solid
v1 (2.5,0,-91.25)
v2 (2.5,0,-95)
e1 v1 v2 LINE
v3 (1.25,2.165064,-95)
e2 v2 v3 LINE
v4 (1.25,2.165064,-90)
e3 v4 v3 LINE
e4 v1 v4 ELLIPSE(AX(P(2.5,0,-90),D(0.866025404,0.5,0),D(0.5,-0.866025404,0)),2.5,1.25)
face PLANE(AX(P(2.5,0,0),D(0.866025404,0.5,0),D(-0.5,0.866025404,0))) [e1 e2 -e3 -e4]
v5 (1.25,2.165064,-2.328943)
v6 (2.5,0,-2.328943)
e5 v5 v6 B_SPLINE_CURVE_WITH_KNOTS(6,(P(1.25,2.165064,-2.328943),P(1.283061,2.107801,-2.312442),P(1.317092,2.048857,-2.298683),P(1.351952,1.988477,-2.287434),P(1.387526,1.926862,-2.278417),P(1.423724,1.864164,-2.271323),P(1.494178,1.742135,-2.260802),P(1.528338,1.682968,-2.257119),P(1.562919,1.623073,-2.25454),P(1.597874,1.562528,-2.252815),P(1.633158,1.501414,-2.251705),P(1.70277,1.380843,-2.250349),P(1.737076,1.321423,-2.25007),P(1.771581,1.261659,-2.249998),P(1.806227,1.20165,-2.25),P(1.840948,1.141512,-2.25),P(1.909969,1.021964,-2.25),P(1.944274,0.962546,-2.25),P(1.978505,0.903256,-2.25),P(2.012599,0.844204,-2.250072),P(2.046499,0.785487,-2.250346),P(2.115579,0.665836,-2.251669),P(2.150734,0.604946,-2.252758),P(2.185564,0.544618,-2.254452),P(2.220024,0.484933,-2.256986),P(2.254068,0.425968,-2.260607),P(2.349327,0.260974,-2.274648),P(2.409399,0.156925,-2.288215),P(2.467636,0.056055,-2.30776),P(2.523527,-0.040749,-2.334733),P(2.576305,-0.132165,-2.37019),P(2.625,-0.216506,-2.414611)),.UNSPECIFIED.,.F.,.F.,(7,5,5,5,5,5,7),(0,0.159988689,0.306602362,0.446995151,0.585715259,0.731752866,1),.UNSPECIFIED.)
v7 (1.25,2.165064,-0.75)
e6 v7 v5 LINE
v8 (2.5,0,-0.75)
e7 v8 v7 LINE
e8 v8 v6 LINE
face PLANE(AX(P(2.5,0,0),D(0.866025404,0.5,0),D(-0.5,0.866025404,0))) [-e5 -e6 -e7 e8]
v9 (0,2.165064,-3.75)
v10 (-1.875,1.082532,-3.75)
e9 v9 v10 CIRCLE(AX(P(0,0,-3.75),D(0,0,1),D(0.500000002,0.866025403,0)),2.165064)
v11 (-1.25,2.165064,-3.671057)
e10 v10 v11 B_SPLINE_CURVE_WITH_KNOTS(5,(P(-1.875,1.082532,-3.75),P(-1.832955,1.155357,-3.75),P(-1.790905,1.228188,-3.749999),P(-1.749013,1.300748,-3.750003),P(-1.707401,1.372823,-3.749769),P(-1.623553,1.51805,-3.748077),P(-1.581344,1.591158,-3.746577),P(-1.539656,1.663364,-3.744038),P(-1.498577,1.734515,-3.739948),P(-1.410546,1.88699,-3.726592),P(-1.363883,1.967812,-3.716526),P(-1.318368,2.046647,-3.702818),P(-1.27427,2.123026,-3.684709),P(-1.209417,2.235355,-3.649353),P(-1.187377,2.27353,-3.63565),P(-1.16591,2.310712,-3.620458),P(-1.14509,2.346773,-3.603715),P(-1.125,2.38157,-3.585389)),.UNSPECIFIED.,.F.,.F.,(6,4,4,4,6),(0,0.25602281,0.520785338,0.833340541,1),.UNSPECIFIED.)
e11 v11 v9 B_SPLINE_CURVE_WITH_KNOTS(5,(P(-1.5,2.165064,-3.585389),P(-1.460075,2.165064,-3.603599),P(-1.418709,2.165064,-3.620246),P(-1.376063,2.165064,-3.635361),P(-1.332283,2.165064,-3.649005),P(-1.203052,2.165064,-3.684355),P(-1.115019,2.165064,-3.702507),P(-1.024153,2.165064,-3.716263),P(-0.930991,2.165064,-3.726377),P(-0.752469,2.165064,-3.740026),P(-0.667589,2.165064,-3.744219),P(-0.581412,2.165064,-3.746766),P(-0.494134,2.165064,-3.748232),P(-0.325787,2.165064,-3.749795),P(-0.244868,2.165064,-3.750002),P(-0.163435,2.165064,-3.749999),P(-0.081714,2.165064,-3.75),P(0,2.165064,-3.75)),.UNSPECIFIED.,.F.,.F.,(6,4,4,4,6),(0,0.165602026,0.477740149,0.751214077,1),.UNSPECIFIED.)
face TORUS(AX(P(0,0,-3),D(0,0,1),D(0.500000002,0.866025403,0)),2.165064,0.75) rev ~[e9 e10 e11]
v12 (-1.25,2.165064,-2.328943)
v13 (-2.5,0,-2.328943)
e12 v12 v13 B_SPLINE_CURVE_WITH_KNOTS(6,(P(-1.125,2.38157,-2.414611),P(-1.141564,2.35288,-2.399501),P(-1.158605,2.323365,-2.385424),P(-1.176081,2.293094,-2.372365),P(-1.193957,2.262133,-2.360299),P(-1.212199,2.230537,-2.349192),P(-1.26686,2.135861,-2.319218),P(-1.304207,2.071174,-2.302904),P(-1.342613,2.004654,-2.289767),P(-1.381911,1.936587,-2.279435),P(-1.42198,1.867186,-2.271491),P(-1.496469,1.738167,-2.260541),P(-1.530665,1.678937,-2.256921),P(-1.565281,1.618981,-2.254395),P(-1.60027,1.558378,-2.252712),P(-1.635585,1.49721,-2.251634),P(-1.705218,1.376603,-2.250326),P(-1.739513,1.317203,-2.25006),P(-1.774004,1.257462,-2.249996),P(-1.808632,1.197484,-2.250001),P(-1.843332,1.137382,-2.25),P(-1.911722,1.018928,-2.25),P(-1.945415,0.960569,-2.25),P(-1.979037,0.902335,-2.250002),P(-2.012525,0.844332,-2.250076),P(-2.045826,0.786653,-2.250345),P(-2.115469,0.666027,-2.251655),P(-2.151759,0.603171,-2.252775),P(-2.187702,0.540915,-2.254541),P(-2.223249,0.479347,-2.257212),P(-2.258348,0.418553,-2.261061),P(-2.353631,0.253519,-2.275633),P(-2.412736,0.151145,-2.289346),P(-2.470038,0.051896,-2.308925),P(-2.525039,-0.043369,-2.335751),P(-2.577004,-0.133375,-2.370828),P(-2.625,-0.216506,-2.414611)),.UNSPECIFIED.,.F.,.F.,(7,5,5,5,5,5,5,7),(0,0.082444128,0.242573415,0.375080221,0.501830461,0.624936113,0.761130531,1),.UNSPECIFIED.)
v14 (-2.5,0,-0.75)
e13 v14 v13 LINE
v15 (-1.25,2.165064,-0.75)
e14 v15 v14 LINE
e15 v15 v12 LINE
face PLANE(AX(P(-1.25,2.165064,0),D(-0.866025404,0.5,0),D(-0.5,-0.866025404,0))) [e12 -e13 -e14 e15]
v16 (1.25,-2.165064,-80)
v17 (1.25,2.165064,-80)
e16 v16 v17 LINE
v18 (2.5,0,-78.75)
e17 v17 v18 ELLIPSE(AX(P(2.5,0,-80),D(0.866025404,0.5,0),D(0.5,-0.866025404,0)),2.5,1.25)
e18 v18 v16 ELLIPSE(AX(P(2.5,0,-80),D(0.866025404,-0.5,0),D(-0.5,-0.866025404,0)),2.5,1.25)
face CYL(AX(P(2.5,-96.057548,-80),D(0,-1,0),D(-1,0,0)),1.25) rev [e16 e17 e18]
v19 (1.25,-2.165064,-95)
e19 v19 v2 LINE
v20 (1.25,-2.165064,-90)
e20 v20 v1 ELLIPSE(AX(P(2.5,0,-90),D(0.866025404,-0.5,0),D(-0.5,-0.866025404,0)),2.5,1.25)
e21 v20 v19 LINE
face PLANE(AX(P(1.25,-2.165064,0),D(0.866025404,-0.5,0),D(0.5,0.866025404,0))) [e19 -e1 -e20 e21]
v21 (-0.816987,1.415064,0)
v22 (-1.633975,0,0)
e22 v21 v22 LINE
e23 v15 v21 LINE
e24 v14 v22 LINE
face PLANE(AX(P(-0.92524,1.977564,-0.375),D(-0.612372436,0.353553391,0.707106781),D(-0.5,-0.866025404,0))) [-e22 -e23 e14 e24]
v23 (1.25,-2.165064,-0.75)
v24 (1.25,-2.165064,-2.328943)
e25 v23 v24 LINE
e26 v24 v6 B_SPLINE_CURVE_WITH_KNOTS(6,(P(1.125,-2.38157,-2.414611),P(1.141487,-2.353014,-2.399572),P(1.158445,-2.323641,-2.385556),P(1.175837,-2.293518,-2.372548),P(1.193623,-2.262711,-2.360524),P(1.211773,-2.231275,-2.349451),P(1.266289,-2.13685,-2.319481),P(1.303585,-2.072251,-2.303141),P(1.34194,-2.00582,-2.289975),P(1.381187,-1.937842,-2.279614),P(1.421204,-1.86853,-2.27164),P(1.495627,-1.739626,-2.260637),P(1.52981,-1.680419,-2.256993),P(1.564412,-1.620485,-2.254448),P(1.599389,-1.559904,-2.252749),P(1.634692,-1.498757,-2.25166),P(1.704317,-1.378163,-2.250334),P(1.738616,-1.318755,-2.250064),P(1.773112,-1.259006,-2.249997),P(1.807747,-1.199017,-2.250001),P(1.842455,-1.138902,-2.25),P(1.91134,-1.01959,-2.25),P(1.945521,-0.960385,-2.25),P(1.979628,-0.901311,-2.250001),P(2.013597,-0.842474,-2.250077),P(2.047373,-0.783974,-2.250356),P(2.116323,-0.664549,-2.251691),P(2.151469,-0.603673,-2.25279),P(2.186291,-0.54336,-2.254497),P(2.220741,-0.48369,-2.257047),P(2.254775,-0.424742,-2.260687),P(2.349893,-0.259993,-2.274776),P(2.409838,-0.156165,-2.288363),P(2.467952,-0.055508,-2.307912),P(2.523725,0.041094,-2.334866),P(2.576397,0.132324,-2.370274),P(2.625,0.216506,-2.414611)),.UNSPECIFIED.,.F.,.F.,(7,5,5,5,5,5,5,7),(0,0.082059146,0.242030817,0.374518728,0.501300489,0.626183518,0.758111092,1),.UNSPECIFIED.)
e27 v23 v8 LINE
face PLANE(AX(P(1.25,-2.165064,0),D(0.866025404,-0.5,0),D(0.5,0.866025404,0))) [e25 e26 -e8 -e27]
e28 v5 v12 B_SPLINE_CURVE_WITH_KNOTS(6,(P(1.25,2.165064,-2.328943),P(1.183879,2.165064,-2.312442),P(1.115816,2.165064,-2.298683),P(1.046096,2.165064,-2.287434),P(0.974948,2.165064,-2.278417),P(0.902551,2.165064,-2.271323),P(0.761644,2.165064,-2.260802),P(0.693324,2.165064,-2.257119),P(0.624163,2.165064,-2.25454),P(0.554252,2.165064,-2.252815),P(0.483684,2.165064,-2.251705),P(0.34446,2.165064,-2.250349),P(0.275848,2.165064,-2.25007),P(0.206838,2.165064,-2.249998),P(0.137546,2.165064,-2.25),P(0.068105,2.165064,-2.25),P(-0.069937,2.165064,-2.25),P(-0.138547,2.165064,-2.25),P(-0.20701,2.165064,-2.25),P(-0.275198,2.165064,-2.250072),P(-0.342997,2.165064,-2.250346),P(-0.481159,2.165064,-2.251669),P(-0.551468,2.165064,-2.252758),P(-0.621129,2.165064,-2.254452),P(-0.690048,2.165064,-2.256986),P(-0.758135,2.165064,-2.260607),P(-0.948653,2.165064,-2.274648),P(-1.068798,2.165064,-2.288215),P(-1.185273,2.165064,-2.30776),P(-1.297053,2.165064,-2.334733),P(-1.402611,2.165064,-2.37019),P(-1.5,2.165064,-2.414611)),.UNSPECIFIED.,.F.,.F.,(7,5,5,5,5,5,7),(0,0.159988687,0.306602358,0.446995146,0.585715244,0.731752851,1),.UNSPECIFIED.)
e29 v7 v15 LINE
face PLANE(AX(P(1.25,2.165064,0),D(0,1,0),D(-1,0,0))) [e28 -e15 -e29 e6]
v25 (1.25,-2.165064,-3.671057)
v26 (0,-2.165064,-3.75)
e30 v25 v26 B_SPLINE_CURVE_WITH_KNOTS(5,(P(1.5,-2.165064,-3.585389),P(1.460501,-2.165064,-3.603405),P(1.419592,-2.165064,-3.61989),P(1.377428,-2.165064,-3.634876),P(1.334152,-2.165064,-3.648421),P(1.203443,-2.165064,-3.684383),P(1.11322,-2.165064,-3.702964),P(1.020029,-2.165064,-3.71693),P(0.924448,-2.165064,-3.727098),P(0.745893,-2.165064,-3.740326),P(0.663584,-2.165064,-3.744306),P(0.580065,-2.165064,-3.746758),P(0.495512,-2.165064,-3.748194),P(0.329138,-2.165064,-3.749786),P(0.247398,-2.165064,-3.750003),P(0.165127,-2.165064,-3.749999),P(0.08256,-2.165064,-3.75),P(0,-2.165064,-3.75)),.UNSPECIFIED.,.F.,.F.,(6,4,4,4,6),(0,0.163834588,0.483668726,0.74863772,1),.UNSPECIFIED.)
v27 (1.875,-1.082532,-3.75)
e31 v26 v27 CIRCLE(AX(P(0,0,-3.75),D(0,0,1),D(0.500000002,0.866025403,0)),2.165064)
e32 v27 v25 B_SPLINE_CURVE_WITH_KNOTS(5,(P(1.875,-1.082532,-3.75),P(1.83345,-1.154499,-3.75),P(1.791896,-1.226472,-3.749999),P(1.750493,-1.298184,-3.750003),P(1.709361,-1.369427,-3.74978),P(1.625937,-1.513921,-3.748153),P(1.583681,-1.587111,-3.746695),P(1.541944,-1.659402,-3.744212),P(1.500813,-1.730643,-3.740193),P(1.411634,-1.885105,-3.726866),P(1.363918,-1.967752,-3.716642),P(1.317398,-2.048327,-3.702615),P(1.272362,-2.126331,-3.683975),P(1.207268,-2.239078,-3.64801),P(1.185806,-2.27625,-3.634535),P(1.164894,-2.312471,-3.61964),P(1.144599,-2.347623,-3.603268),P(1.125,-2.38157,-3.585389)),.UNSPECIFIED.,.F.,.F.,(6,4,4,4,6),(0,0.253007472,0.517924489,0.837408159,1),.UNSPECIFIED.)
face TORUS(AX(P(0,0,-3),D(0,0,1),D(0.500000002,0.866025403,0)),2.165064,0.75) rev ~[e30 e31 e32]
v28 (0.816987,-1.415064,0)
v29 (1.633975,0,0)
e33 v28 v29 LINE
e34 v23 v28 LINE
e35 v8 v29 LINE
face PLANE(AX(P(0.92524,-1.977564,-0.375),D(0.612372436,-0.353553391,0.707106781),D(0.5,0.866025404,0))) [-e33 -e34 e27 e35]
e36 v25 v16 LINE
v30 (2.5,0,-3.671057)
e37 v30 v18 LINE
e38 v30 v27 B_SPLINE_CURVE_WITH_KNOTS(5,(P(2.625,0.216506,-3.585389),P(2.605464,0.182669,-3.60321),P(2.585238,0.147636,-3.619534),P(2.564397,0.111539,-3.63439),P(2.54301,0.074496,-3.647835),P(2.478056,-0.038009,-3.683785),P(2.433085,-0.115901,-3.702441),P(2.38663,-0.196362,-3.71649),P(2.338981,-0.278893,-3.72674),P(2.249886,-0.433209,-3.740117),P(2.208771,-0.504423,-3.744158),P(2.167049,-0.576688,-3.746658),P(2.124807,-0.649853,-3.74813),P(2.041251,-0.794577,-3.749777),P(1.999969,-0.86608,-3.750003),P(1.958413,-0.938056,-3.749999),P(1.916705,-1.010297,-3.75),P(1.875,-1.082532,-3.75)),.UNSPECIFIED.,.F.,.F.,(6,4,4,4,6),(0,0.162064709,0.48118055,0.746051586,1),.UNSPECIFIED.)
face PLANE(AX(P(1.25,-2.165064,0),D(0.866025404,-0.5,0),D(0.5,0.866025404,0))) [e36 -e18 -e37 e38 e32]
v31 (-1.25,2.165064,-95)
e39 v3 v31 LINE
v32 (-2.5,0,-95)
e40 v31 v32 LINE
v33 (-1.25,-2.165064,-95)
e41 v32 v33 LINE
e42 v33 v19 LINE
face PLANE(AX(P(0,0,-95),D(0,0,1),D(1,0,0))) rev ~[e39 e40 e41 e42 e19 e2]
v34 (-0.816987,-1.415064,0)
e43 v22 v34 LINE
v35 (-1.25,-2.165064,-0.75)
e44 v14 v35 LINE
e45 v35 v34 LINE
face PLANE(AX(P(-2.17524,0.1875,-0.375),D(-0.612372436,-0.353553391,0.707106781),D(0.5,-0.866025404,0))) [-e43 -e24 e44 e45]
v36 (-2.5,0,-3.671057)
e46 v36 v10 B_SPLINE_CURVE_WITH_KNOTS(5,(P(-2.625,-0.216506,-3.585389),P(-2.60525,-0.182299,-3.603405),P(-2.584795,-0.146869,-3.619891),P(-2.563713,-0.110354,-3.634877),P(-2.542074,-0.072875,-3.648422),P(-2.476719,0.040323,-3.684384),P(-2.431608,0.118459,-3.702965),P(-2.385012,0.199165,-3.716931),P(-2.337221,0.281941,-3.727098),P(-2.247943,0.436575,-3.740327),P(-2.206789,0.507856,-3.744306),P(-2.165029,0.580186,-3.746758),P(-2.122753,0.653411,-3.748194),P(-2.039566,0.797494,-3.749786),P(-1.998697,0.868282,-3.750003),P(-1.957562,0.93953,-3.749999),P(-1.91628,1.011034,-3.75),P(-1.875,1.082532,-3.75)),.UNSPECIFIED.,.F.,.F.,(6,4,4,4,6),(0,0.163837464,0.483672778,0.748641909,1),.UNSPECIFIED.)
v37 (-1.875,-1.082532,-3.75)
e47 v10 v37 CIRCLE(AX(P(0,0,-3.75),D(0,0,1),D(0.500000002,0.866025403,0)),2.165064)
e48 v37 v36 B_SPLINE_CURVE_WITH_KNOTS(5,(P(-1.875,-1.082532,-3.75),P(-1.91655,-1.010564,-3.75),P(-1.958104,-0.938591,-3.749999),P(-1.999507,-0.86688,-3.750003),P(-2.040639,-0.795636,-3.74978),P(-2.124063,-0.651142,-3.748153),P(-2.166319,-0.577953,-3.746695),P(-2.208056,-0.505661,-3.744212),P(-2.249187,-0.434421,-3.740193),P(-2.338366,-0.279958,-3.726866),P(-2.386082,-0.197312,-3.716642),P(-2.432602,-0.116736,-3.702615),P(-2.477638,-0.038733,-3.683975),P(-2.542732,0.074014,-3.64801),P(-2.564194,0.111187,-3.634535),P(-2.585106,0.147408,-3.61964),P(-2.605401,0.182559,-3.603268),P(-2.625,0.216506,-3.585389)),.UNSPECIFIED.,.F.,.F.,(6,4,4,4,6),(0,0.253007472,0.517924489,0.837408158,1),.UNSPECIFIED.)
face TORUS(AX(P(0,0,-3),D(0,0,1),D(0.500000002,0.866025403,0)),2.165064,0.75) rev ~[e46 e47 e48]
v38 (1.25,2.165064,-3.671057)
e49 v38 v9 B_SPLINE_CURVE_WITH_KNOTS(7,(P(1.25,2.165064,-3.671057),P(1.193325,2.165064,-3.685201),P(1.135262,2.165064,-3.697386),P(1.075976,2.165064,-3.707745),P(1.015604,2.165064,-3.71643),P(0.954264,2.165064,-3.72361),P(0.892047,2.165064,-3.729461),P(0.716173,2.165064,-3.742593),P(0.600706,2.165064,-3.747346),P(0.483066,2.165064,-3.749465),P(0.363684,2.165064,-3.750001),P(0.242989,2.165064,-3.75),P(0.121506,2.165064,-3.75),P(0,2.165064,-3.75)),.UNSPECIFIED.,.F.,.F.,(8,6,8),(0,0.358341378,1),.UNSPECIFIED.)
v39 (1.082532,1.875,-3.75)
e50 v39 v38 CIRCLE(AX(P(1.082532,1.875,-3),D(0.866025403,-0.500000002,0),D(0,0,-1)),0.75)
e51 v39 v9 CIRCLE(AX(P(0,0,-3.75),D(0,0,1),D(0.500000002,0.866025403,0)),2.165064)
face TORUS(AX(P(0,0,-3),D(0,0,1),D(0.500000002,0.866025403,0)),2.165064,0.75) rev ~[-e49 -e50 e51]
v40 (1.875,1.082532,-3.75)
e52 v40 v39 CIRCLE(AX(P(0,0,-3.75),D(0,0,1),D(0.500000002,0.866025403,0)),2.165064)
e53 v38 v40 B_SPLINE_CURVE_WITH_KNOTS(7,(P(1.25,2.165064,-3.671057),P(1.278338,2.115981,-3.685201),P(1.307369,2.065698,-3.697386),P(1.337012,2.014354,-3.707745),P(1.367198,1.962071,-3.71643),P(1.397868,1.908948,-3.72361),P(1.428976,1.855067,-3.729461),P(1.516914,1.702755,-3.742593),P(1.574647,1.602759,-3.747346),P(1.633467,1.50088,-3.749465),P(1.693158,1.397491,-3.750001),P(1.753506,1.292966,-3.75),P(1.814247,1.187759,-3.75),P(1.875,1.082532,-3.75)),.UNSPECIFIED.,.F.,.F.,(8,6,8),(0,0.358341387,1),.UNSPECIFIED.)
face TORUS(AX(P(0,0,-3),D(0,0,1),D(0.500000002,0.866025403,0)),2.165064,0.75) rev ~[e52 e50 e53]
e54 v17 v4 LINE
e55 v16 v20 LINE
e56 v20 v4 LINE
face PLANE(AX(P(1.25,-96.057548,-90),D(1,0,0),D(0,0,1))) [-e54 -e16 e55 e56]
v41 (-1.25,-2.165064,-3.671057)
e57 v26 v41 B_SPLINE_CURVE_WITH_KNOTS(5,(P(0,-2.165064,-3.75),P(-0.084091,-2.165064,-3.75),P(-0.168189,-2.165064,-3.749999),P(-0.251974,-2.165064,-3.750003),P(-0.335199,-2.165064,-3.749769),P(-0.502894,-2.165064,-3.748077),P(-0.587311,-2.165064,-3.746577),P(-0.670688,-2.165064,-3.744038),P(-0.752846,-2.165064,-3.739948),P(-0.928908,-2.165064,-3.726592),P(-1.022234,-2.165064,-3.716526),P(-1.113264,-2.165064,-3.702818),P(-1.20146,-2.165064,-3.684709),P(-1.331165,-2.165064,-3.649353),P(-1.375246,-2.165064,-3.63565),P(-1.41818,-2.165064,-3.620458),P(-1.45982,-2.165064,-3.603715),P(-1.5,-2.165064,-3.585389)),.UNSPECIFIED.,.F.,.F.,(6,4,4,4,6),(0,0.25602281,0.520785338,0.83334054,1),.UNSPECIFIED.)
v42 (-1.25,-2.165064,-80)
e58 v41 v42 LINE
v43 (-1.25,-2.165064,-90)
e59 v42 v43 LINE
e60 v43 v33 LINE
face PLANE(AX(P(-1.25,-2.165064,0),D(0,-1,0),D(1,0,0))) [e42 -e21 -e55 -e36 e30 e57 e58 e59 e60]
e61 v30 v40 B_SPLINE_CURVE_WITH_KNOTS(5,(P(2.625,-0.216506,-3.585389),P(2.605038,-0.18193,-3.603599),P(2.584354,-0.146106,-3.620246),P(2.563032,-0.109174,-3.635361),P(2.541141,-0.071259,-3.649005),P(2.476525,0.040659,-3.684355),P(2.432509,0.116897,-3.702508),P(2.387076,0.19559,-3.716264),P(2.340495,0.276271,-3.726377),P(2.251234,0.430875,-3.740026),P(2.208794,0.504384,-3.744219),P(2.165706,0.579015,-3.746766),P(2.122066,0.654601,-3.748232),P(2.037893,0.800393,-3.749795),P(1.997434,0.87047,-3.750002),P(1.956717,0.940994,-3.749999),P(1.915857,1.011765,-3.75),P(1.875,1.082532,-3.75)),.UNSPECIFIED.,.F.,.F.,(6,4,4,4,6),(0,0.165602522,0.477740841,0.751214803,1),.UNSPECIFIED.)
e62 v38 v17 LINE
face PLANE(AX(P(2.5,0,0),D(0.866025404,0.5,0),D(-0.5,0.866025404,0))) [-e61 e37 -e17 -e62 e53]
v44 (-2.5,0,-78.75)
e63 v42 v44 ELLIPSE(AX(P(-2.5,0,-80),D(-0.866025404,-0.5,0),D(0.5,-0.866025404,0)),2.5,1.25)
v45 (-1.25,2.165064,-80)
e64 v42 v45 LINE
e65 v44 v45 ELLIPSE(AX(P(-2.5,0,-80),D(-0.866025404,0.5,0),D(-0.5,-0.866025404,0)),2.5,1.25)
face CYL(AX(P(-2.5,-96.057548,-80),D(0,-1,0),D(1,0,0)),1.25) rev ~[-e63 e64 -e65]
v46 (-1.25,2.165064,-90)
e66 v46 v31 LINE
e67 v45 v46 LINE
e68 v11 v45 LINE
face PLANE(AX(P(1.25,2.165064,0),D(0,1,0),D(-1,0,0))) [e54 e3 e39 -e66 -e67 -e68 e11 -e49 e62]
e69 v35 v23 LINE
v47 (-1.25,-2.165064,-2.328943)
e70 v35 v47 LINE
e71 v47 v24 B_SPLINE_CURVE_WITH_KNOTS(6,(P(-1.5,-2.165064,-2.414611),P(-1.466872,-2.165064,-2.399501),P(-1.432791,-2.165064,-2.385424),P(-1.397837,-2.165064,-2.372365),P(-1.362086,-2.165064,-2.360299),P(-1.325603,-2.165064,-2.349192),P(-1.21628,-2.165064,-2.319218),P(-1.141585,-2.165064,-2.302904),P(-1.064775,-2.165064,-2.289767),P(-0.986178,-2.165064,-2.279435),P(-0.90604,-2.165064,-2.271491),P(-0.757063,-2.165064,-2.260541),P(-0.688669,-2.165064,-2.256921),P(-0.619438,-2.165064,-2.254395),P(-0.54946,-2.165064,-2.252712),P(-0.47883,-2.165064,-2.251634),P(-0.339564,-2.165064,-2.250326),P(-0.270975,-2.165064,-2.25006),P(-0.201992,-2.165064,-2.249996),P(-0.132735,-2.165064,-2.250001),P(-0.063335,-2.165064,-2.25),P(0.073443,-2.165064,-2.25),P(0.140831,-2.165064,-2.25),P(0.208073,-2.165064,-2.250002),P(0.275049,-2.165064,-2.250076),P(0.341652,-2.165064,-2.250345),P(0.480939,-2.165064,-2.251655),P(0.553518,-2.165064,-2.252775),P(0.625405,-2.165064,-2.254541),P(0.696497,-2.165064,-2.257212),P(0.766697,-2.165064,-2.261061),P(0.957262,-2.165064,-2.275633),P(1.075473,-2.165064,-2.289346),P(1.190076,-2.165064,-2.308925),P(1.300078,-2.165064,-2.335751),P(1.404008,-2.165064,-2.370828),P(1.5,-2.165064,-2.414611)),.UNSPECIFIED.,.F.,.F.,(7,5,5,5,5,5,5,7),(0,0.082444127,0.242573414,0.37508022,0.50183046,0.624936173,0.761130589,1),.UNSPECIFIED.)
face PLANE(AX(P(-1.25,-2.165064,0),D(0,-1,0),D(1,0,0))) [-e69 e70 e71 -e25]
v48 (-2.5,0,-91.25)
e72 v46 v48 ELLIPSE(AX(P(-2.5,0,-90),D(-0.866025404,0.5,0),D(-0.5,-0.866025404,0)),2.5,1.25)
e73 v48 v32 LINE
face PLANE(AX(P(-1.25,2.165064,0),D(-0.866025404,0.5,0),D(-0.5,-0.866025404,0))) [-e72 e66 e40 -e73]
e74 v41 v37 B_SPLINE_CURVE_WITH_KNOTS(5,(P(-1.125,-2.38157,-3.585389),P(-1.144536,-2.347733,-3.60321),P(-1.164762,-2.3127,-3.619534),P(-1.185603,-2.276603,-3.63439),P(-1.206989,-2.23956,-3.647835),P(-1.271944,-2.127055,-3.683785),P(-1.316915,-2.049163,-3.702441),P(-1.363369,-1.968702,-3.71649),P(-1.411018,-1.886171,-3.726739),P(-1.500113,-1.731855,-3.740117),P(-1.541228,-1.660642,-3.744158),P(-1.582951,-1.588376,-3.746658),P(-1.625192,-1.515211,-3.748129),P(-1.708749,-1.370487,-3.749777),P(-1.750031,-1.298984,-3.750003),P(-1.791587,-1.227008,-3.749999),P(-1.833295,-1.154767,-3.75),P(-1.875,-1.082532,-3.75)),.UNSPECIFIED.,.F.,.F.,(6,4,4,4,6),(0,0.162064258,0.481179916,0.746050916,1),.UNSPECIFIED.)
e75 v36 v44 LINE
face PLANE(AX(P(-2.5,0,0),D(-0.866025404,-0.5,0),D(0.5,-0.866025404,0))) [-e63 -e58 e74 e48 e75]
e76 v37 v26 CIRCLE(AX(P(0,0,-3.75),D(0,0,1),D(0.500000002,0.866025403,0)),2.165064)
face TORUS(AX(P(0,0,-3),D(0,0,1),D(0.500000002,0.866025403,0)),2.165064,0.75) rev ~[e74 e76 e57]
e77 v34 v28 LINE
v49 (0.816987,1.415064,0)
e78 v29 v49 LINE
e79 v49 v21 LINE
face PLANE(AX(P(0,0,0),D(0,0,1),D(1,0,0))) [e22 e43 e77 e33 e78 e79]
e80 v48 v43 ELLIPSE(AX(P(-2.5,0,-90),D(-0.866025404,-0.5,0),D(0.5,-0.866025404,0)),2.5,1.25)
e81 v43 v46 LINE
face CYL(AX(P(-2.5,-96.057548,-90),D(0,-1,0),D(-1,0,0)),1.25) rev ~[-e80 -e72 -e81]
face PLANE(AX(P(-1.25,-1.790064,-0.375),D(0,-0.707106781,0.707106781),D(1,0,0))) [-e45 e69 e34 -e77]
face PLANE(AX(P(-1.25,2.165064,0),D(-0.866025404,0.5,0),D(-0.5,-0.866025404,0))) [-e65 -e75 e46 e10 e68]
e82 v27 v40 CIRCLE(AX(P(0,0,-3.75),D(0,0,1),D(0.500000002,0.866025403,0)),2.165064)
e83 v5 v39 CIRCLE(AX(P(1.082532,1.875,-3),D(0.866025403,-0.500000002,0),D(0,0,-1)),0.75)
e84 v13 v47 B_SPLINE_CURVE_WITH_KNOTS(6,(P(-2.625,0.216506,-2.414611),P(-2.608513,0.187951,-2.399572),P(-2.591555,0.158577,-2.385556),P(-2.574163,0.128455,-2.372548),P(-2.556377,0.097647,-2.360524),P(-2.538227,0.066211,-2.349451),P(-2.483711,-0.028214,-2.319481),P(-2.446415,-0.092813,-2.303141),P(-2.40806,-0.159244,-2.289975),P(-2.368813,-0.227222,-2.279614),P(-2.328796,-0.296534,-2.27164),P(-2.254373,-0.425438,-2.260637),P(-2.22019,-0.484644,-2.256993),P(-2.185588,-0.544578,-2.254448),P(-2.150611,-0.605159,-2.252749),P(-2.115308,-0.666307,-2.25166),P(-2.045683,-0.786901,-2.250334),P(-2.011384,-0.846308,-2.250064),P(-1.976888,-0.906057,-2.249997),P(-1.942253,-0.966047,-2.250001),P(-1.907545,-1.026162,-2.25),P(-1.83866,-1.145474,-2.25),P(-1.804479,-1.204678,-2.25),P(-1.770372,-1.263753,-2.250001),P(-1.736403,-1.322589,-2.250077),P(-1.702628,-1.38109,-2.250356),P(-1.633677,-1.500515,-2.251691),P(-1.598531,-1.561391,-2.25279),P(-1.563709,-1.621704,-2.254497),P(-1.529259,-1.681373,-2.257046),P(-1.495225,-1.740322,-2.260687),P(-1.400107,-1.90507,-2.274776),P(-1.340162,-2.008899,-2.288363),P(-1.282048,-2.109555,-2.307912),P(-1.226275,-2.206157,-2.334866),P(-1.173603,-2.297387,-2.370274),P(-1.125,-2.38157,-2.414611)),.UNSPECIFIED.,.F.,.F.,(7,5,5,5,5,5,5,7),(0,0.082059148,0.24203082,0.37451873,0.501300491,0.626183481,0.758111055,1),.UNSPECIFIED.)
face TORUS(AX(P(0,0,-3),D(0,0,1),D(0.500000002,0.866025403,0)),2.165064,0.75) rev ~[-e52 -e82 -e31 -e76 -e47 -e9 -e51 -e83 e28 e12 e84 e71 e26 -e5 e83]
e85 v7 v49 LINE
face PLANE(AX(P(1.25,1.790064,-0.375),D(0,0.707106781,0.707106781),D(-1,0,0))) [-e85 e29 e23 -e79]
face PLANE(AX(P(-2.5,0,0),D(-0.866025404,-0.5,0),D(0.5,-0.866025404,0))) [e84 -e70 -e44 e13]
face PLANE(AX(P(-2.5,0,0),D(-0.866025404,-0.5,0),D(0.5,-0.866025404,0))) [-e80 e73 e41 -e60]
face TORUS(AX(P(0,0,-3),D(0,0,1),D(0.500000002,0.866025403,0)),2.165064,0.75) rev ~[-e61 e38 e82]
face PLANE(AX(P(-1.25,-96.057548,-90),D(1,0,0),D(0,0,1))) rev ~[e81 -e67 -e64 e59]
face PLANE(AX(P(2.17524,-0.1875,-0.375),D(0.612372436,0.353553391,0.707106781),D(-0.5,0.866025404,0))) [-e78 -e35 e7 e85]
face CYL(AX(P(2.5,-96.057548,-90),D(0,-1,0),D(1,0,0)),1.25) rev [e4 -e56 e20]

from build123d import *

# Parameters (mm, degrees)
SALIENTE_EXTRUIR1_DEPTH    = 95
CHAFL_N1_SIZE              = 0.75
CROQUIS2_R                 = 0.75
CORTAR_EXTRUIR1_DEPTH      = 96.057548464
CORTAR_EXTRUIR1_DEPTH_BACK = 96.057548464


with BuildPart() as part:
    # Croquis1 → Saliente-Extruir1 (new body)
    with BuildSketch(Plane.XY):
        Polygon((1.25, -2.165063509), (2.5, 0), (1.25, 2.165063509), (-1.25, 2.165063509), (-2.5, 0), (-1.25, -2.165063509), align=None)
    extrude(amount=-SALIENTE_EXTRUIR1_DEPTH)

    # Chaflán1
    chafl_n1_edges = [part.edges().sort_by_distance(p)[0] for p in [
        (-1.875, -1.082531755, 0),
        (-1.875, 1.082531755, 0),
        (0, 2.165063509, 0),
        (1.875, 1.082531755, 0),
        (1.875, -1.082531755, 0),
        (0, -2.165063509, 0),
    ]]
    chamfer(chafl_n1_edges, length=CHAFL_N1_SIZE)

    # Croquis2 → Cortar-Revolución1 (revolve, cut)
    with BuildSketch(Plane(origin=(0, 0, 0), x_dir=(0, 0, -1), z_dir=(1, 0, 0)), mode=Mode.PRIVATE) as cortar_revoluci_n1_sk:
        with Locations((3, 2.165063509)):
            Circle(CROQUIS2_R)
    revolve(cortar_revoluci_n1_sk.sketch.rotate(Axis((0, 0, 0), (0, 0, 1)), 329.999999874), axis=Axis((0, 0, 0), (0, 0, 1)), mode=Mode.SUBTRACT)

    # Croquis5 → Cortar-Extruir1 (cut, two sides: drawn at the far end of the back side and taken through both)
    with BuildSketch(Plane(origin=(0, 0, 0), x_dir=(1, 0, 0), z_dir=(0, 1, 0)).offset(-CORTAR_EXTRUIR1_DEPTH_BACK)):
        with BuildLine():
            Line((-1.25, 90), (-1.25, 80))
            ThreePointArc((-1.25, 80), (-2.5, 78.75), (-3.75, 80))
            Line((-3.75, 80), (-3.75, 90))
            ThreePointArc((-3.75, 90), (-2.5, 91.25), (-1.25, 90))
        make_face()
        with BuildLine():
            Line((1.25, 90), (1.25, 80))
            ThreePointArc((1.25, 80), (2.5, 78.75), (3.75, 80))
            Line((3.75, 80), (3.75, 90))
            ThreePointArc((3.75, 90), (2.5, 91.25), (1.25, 90))
        make_face()
    extrude(amount=CORTAR_EXTRUIR1_DEPTH + CORTAR_EXTRUIR1_DEPTH_BACK, mode=Mode.SUBTRACT)


solid = part.part
